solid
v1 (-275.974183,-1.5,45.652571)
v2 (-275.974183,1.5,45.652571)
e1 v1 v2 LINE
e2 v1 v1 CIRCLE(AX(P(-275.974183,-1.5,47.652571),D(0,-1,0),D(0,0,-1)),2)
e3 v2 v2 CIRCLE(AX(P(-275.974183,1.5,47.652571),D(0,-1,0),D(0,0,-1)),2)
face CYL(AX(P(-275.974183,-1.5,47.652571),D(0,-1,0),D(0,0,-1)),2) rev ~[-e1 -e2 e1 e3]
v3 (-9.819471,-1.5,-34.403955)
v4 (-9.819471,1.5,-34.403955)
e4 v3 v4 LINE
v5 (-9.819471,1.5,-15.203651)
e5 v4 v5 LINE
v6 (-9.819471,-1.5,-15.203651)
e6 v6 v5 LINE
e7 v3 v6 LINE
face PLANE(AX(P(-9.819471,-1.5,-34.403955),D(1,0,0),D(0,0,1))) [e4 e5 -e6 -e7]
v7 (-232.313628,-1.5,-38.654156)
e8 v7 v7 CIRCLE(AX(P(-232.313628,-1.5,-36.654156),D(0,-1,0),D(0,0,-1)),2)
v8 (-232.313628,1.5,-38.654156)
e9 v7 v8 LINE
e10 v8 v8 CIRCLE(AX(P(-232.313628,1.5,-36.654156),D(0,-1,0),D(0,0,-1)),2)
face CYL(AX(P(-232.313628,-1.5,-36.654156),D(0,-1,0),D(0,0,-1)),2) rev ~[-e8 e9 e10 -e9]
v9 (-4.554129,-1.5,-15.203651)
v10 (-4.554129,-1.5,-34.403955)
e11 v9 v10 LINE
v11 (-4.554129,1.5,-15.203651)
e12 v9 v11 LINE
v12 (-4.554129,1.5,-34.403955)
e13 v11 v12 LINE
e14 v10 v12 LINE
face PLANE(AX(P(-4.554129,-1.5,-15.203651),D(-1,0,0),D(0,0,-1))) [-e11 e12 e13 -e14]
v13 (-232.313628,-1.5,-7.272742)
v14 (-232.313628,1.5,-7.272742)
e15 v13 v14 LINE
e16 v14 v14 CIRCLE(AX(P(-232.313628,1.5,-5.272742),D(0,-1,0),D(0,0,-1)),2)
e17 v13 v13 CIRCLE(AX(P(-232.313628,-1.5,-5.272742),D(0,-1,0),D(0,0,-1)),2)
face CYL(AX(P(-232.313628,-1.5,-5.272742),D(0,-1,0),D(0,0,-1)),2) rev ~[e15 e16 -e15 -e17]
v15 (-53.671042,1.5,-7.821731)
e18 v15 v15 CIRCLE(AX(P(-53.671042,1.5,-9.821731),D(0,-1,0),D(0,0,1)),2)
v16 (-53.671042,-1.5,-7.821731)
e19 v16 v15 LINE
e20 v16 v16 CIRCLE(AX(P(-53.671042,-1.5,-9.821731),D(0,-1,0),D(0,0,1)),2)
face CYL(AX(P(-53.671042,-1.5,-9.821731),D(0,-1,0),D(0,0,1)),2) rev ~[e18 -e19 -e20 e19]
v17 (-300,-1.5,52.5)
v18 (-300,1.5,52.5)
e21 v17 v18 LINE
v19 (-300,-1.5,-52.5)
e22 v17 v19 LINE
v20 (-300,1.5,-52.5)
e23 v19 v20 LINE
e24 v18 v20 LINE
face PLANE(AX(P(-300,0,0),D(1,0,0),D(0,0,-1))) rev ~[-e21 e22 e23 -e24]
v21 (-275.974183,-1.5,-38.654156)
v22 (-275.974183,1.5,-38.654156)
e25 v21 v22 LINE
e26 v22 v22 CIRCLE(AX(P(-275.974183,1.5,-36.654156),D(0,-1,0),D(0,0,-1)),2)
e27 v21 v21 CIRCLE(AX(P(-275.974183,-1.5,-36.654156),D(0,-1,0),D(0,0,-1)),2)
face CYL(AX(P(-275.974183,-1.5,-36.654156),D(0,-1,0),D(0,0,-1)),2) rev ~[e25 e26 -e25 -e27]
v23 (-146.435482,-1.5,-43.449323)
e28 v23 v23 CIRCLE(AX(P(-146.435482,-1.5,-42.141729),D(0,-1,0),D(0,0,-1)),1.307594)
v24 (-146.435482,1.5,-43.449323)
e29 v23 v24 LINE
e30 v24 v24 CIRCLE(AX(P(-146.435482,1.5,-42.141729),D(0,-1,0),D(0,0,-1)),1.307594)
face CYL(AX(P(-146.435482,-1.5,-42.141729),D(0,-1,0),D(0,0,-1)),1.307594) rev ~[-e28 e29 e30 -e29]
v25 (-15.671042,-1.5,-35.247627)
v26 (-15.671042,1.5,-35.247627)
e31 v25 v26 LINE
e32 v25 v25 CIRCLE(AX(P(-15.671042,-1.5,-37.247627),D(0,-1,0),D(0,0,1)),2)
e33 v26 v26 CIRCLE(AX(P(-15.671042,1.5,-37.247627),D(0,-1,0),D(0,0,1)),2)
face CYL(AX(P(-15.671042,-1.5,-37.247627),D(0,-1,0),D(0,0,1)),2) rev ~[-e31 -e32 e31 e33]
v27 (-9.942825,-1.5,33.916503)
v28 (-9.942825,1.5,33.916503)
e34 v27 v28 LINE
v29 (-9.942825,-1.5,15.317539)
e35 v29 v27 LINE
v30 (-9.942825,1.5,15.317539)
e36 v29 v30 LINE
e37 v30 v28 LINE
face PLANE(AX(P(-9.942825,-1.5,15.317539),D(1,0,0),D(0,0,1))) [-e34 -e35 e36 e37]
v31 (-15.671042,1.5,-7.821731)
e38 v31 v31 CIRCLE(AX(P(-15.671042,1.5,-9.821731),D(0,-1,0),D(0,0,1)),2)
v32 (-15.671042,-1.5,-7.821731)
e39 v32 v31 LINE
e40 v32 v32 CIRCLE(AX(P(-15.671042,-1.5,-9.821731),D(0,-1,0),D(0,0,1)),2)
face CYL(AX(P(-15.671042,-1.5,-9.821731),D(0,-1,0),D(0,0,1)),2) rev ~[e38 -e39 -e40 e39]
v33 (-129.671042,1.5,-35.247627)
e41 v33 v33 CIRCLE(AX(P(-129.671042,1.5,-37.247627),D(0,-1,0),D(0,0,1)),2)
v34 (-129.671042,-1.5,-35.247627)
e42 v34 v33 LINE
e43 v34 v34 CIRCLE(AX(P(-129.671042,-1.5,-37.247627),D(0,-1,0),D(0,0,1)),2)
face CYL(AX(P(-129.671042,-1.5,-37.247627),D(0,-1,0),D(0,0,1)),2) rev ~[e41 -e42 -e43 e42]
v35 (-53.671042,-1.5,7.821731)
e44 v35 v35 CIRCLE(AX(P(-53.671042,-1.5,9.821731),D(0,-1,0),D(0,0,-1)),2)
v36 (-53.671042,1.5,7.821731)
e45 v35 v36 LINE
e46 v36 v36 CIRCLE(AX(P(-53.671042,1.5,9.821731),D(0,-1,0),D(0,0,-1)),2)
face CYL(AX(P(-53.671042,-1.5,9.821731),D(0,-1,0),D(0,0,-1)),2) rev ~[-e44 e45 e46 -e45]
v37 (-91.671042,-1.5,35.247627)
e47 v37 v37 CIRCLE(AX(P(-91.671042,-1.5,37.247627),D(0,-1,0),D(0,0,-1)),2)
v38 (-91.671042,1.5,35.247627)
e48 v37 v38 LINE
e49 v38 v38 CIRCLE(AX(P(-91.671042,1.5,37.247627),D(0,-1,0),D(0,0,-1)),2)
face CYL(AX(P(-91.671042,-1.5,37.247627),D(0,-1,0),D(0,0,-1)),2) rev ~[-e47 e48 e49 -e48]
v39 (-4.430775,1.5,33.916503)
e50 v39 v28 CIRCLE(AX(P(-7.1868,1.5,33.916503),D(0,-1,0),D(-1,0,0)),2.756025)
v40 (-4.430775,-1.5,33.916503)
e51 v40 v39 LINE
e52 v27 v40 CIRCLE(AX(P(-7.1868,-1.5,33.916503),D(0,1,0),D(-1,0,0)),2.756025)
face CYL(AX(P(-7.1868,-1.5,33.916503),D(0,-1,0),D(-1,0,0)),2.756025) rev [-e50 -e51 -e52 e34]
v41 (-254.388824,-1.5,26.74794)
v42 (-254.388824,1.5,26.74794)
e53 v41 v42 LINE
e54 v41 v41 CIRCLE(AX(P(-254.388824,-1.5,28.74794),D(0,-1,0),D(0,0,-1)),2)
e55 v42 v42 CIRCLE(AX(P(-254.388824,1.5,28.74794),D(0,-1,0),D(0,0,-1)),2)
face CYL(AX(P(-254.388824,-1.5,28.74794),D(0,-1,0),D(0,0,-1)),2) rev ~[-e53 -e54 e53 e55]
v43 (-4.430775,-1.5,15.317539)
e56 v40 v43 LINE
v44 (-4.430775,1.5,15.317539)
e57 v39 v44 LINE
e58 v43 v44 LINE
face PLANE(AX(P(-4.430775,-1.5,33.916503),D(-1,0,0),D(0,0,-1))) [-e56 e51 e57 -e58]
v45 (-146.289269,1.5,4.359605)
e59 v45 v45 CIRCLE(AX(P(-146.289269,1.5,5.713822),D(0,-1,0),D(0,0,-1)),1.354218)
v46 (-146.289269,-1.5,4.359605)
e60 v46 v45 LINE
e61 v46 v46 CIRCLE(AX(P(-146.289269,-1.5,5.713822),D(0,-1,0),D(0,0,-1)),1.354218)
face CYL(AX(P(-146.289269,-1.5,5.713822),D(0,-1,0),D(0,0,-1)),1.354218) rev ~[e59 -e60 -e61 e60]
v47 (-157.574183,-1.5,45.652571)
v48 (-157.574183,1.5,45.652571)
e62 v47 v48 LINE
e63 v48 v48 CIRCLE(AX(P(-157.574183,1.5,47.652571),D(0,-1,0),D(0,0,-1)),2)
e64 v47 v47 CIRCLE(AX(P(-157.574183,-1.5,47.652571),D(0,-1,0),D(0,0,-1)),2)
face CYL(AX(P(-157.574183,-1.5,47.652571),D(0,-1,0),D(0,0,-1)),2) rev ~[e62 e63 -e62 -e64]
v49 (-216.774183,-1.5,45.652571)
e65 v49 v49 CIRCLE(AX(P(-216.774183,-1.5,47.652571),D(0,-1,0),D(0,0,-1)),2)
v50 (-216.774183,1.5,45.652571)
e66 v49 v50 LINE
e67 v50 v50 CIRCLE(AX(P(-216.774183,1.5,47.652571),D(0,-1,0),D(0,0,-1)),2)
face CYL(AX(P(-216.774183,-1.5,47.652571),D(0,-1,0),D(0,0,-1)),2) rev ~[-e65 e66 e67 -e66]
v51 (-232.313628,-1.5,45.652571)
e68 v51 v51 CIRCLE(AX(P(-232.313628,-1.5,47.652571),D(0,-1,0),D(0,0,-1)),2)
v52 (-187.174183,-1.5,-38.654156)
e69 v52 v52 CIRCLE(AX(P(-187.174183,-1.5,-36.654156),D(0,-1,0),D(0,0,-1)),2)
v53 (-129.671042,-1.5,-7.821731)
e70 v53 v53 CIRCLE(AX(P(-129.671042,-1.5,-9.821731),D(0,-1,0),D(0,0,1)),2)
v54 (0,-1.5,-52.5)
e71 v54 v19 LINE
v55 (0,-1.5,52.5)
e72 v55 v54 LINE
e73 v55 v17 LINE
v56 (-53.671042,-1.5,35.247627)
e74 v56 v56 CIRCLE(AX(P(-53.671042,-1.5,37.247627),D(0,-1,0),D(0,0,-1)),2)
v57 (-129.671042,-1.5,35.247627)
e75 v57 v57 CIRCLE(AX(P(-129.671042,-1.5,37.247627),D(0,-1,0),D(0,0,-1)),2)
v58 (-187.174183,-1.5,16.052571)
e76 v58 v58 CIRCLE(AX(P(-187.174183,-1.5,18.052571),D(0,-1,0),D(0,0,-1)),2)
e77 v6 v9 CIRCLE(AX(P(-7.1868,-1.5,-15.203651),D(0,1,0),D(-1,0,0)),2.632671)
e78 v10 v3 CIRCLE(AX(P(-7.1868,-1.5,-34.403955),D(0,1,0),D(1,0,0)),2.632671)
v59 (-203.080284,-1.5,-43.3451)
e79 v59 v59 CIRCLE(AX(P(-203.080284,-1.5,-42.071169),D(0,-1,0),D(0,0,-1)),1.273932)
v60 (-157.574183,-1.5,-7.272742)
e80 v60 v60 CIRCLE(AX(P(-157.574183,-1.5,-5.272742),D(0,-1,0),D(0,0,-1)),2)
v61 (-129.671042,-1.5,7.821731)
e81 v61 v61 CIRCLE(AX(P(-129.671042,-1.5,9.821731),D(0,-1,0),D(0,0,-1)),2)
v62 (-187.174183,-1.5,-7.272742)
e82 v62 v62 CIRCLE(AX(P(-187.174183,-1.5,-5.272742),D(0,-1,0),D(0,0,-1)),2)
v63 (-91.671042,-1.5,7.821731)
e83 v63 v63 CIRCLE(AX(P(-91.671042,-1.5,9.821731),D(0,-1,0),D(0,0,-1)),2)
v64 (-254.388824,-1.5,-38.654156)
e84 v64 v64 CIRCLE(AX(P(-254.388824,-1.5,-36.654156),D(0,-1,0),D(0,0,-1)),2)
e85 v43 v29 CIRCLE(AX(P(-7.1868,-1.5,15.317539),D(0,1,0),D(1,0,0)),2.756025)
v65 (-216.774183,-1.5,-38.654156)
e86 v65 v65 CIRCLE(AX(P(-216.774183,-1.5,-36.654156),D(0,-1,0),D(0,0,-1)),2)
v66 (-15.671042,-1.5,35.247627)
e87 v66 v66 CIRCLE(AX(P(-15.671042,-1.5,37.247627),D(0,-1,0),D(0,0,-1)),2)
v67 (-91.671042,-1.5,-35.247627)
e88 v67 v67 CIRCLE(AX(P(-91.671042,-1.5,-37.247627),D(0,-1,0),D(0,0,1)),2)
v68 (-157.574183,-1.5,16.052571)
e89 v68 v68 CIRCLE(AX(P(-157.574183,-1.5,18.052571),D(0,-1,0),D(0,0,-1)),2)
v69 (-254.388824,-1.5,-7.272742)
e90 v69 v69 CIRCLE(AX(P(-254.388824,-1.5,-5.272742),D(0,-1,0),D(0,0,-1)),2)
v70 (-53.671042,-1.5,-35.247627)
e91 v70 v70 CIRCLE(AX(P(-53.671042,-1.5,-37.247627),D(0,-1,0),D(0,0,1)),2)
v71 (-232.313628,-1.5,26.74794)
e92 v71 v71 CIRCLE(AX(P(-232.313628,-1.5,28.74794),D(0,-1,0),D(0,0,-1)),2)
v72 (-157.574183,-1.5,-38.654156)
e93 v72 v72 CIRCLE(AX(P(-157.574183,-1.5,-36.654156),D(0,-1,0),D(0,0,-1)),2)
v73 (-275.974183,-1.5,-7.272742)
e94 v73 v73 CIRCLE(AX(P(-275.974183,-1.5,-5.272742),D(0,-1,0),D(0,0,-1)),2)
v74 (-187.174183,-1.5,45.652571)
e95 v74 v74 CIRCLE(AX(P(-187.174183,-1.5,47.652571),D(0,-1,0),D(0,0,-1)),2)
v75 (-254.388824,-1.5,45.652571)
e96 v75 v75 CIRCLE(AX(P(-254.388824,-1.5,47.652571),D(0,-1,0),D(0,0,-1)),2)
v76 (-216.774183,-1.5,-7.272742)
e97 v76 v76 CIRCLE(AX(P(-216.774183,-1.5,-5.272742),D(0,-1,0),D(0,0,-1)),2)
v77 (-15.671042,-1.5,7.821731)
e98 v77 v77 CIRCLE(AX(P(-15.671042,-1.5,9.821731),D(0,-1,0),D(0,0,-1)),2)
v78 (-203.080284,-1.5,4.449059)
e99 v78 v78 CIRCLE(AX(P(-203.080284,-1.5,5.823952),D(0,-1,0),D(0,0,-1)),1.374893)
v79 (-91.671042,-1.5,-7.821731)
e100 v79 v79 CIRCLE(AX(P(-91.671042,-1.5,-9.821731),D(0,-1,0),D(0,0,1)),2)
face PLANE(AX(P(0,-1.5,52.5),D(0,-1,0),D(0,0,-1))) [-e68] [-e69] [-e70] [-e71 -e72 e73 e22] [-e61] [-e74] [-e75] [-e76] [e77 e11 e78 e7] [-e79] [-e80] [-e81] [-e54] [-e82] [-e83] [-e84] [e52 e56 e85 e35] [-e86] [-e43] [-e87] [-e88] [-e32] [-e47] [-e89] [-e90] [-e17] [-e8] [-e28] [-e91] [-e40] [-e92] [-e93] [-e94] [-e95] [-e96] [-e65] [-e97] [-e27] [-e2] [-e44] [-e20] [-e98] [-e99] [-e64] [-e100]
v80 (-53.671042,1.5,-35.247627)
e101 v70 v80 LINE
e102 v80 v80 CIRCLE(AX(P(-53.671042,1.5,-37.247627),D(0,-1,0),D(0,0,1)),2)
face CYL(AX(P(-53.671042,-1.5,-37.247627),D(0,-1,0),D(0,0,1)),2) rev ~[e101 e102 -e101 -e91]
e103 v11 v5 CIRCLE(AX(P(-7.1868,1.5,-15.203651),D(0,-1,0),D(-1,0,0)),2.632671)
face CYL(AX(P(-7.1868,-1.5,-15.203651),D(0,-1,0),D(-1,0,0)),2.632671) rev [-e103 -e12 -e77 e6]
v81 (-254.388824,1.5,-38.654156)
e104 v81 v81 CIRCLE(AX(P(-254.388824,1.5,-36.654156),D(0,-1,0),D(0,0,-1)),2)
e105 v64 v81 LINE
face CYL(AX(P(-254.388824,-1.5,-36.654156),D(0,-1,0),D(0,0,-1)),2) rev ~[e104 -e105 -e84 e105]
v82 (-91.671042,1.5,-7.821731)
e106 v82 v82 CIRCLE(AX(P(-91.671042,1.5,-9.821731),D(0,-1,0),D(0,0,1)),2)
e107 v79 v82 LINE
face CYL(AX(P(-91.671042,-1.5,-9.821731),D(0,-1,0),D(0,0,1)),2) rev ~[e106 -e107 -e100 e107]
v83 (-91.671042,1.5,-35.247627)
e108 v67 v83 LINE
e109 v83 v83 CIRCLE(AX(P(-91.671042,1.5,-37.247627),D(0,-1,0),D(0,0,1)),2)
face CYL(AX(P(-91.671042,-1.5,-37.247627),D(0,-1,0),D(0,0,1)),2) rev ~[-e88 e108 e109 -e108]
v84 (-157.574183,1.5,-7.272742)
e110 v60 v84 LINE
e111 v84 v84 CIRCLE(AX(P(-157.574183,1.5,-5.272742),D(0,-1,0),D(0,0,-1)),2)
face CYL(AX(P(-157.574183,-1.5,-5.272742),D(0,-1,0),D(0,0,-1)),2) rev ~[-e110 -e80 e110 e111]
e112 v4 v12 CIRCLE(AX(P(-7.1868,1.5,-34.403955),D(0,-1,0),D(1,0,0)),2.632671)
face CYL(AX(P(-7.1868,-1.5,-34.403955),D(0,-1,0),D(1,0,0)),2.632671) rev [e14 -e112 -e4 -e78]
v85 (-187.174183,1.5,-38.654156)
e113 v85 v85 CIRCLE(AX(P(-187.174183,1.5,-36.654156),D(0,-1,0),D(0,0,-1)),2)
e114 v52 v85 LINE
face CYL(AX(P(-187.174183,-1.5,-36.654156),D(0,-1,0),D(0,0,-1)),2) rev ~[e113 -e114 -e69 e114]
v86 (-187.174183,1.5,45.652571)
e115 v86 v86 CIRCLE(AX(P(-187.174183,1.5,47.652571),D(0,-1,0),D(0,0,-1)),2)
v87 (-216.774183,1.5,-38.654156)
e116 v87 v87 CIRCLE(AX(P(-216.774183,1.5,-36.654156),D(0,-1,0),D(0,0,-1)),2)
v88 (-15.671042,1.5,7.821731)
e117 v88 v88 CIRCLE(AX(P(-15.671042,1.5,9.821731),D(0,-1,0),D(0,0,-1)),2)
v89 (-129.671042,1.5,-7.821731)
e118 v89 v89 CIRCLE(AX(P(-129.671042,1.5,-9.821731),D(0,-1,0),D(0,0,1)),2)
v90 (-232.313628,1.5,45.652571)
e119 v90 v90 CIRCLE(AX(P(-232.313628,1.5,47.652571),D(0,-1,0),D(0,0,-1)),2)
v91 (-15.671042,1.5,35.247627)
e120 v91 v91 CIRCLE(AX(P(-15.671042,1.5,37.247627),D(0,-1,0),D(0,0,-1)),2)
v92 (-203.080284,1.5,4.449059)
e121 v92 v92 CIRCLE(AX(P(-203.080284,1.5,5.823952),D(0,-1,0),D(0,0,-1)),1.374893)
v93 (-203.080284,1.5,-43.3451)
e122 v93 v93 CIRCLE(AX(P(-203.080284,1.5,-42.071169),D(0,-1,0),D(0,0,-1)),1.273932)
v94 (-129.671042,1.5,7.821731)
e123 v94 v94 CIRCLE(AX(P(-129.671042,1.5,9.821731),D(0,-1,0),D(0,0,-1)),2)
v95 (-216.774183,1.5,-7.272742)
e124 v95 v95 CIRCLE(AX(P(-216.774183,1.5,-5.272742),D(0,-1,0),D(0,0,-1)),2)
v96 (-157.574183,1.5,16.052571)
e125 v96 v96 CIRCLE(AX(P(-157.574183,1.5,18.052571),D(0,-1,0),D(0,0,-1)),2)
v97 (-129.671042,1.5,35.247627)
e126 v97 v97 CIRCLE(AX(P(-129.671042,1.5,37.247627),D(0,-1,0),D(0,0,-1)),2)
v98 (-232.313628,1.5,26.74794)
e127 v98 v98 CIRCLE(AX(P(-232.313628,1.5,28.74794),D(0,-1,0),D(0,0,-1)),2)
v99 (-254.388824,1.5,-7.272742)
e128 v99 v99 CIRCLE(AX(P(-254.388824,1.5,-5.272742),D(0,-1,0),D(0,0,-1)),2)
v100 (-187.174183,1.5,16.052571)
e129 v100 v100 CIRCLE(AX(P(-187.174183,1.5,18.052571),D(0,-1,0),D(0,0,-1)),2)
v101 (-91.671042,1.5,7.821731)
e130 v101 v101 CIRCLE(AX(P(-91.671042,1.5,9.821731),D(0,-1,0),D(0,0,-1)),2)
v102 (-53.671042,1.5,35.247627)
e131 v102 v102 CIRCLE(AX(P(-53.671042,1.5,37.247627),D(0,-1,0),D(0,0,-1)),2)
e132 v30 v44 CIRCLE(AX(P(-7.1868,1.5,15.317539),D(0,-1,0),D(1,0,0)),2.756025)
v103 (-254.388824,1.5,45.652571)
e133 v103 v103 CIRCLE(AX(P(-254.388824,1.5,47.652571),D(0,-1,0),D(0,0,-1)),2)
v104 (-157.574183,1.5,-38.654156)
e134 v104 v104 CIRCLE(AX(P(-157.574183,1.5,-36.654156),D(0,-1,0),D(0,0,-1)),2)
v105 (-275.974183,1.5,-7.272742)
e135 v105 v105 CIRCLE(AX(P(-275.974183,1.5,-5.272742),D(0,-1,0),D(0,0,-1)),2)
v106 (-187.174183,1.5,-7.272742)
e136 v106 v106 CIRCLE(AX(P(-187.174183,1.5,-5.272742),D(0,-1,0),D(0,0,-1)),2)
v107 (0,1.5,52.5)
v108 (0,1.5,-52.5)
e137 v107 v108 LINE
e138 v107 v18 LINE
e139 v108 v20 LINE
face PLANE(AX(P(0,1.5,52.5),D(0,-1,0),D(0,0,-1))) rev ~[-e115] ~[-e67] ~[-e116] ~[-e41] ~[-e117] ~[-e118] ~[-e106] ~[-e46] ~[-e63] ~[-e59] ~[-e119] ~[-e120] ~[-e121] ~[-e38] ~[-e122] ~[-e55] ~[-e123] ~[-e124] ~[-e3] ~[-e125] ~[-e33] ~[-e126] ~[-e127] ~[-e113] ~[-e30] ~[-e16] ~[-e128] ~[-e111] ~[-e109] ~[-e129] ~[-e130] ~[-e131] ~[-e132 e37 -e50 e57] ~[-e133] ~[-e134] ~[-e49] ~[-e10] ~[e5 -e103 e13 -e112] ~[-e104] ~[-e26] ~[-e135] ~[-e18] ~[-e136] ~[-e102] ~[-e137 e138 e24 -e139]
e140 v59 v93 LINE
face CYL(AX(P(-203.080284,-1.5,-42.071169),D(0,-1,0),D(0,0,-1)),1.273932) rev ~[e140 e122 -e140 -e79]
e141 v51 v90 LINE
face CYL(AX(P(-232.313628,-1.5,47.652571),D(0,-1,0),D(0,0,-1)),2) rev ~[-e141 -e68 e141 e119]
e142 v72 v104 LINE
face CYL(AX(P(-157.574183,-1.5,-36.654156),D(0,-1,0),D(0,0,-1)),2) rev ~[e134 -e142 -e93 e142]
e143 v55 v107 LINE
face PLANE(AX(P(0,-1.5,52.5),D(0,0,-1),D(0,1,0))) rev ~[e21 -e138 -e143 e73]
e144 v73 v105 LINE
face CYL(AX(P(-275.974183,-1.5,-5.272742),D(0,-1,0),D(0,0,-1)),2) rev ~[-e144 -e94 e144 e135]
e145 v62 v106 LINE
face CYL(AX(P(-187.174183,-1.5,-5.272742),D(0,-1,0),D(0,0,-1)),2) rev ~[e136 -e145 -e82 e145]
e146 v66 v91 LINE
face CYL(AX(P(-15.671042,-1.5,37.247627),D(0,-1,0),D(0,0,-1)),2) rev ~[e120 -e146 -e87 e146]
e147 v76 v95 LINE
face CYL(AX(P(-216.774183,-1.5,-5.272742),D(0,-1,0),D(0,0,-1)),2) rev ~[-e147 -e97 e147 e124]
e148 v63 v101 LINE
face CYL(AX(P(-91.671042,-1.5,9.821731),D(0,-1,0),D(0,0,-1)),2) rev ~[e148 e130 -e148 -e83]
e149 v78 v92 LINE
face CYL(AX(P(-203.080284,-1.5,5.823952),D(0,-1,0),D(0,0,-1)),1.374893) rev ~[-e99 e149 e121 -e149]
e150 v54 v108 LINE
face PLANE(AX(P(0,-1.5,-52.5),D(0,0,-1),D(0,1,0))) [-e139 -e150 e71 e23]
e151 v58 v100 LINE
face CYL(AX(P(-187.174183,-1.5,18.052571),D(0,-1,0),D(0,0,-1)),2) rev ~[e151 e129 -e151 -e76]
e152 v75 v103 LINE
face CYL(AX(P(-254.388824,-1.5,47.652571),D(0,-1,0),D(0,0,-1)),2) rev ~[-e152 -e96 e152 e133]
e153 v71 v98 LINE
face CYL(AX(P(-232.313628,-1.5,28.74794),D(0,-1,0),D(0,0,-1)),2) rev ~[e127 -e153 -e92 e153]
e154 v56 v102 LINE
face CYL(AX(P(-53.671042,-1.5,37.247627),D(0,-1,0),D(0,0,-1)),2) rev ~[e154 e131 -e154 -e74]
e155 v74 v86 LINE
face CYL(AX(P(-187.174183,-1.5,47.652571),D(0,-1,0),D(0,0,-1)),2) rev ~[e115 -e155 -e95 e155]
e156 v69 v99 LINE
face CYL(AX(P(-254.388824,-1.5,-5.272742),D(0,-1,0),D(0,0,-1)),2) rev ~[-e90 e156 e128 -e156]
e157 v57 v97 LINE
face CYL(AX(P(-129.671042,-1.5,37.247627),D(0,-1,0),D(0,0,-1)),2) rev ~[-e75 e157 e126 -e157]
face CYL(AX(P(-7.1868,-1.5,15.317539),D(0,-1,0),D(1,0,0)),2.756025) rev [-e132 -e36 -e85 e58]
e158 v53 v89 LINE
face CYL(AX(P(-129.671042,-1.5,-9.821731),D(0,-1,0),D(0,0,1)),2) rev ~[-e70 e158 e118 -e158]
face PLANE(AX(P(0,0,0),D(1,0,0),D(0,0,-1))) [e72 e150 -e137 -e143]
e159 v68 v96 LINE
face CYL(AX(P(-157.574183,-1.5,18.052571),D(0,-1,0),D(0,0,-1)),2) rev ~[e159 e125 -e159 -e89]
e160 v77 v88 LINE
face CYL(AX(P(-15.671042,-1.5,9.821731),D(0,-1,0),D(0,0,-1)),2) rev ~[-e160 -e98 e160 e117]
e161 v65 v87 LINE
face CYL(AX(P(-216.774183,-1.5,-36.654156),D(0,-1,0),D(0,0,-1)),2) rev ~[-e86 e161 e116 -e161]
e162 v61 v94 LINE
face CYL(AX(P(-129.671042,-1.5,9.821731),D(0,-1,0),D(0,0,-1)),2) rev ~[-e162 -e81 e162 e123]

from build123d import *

# Parameters (mm, degrees)
SKETCH1_W           = 105
SKETCH1_H           = 3
BOSS_EXTRUDE1_DEPTH = 300
SKETCH2_R           = 2
SKETCH2_R_2         = 1.374892706
SKETCH2_R_3         = 1.354217853
SKETCH2_R_4         = 1.307593734
SKETCH2_R_5         = 1.273931832
CUT_EXTRUDE1_DEPTH  = 10


with BuildPart() as part:
    # Sketch1 → Boss-Extrude1 (new body)
    with BuildSketch(Plane(origin=(0, 0, 0), x_dir=(0, 0, -1), z_dir=(1, 0, 0))):
        Rectangle(SKETCH1_W, SKETCH1_H)
    extrude(amount=-BOSS_EXTRUDE1_DEPTH)

    # Sketch2 → Cut-Extrude1 (cut)
    with BuildSketch(Plane.XZ.offset(1.5)):
        with Locations(Location((-187.17418267, 18.052570887, 0), (0, 0, 270))):
            Circle(SKETCH2_R)
        with Locations(Location((-157.57418267, 18.052570887, 0), (0, 0, 270))):
            Circle(SKETCH2_R)
        with Locations(Location((-157.57418267, 47.652570887, 0), (0, 0, 270))):
            Circle(SKETCH2_R)
        with Locations(Location((-187.17418267, 47.652570887, 0), (0, 0, 270))):
            Circle(SKETCH2_R)
        with Locations(Location((-203.080283558, 5.823951961, 0), (0, 0, 270))):
            Circle(SKETCH2_R_2)
        with Locations(Location((-146.289268611, 5.713822454, 0), (0, 0, 270))):
            Circle(SKETCH2_R_3)
        with Locations(Location((-146.435482331, -42.141729042, 0), (0, 0, 270))):
            Circle(SKETCH2_R_4)
        with Locations(Location((-203.080283558, -42.071168524, 0), (0, 0, 270))):
            Circle(SKETCH2_R_5)
        with Locations(Location((-157.57418267, -36.654156393, 0), (0, 0, 270))):
            Circle(SKETCH2_R)
        with Locations(Location((-187.17418267, -36.654156393, 0), (0, 0, 270))):
            Circle(SKETCH2_R)
        with Locations(Location((-216.77418267, -36.654156393, 0), (0, 0, 270))):
            Circle(SKETCH2_R)
        with Locations(Location((-91.671041898, 37.247626886, 0), (0, 0, 270))):
            Circle(SKETCH2_R)
        with Locations(Location((-216.77418267, 47.652570887, 0), (0, 0, 270))):
            Circle(SKETCH2_R)
        with Locations(Location((-254.388823597, 47.652570887, 0), (0, 0, 270))):
            Circle(SKETCH2_R)
        with Locations(Location((-275.97418267, 47.652570887, 0), (0, 0, 270))):
            Circle(SKETCH2_R)
        with Locations(Location((-157.57418267, -5.272741789, 0), (0, 0, 270))):
            Circle(SKETCH2_R)
        with Locations(Location((-187.17418267, -5.272741789, 0), (0, 0, 270))):
            Circle(SKETCH2_R)
        with Locations(Location((-216.77418267, -5.272741789, 0), (0, 0, 270))):
            Circle(SKETCH2_R)
        with Locations(Location((-232.313628015, 47.652570887, 0), (0, 0, 270))):
            Circle(SKETCH2_R)
        with Locations(Location((-275.97418267, -5.272741789, 0), (0, 0, 270))):
            Circle(SKETCH2_R)
        with Locations(Location((-275.97418267, -36.654156393, 0), (0, 0, 270))):
            Circle(SKETCH2_R)
        with Locations(Location((-232.313628015, -5.272741789, 0), (0, 0, 270))):
            Circle(SKETCH2_R)
        with Locations(Location((-232.313628015, 28.747940449, 0), (0, 0, 270))):
            Circle(SKETCH2_R)
        with Locations(Location((-254.388823597, 28.747940449, 0), (0, 0, 270))):
            Circle(SKETCH2_R)
        with Locations(Location((-254.388823597, -5.272741789, 0), (0, 0, 270))):
            Circle(SKETCH2_R)
        with Locations(Location((-254.388823597, -36.654156393, 0), (0, 0, 270))):
            Circle(SKETCH2_R)
        with Locations(Location((-232.313628015, -36.654156393, 0), (0, 0, 270))):
            Circle(SKETCH2_R)
        with Locations(Location((-53.671041898, 37.247626886, 0), (0, 0, 270))):
            Circle(SKETCH2_R)
        with Locations(Location((-15.671041898, 37.247626886, 0), (0, 0, 270))):
            Circle(SKETCH2_R)
        with Locations(Location((-129.671041898, 37.247626886, 0), (0, 0, 270))):
            Circle(SKETCH2_R)
        with Locations(Location((-129.671041898, 9.821730669, 0), (0, 0, 270))):
            Circle(SKETCH2_R)
        with Locations(Location((-91.671041898, 9.821730669, 0), (0, 0, 270))):
            Circle(SKETCH2_R)
        with Locations(Location((-53.671041898, 9.821730669, 0), (0, 0, 270))):
            Circle(SKETCH2_R)
        with Locations(Location((-15.671041898, 9.821730669, 0), (0, 0, 270))):
            Circle(SKETCH2_R)
        with Locations(Location((-129.671041898, -37.247626886, 0), (0, 0, 90))):
            Circle(SKETCH2_R)
        with Locations(Location((-129.671041898, -9.821730669, 0), (0, 0, 90))):
            Circle(SKETCH2_R)
        with Locations(Location((-91.671041898, -9.821730669, 0), (0, 0, 90))):
            Circle(SKETCH2_R)
        with Locations(Location((-53.671041898, -9.821730669, 0), (0, 0, 90))):
            Circle(SKETCH2_R)
        with Locations(Location((-15.671041898, -9.821730669, 0), (0, 0, 90))):
            Circle(SKETCH2_R)
        with Locations(Location((-91.671041898, -37.247626886, 0), (0, 0, 90))):
            Circle(SKETCH2_R)
        with Locations(Location((-53.671041898, -37.247626886, 0), (0, 0, 90))):
            Circle(SKETCH2_R)
        with Locations(Location((-15.671041898, -37.247626886, 0), (0, 0, 90))):
            Circle(SKETCH2_R)
        with BuildLine():
            Line((-9.819471051, -34.403955007), (-9.819471051, -15.203651424))
            ThreePointArc((-9.819471051, -15.203651424), (-7.18680013, -12.570980503), (-4.554129209, -15.203651424))
            Line((-4.554129209, -15.203651424), (-4.554129209, -34.403955007))
            ThreePointArc((-4.554129209, -34.403955007), (-7.18680013, -37.036625928), (-9.819471051, -34.403955007))
        make_face()
        with BuildLine():
            Line((-4.430775444, 33.91650296), (-4.430775444, 15.317539102))
            ThreePointArc((-4.430775444, 15.317539102), (-7.18680013, 12.561514417), (-9.942824816, 15.317539102))
            Line((-9.942824816, 15.317539102), (-9.942824816, 33.91650296))
            ThreePointArc((-9.942824816, 33.91650296), (-7.18680013, 36.672527645), (-4.430775444, 33.91650296))
        make_face()
    extrude(amount=-CUT_EXTRUDE1_DEPTH, mode=Mode.SUBTRACT)


solid = part.part
